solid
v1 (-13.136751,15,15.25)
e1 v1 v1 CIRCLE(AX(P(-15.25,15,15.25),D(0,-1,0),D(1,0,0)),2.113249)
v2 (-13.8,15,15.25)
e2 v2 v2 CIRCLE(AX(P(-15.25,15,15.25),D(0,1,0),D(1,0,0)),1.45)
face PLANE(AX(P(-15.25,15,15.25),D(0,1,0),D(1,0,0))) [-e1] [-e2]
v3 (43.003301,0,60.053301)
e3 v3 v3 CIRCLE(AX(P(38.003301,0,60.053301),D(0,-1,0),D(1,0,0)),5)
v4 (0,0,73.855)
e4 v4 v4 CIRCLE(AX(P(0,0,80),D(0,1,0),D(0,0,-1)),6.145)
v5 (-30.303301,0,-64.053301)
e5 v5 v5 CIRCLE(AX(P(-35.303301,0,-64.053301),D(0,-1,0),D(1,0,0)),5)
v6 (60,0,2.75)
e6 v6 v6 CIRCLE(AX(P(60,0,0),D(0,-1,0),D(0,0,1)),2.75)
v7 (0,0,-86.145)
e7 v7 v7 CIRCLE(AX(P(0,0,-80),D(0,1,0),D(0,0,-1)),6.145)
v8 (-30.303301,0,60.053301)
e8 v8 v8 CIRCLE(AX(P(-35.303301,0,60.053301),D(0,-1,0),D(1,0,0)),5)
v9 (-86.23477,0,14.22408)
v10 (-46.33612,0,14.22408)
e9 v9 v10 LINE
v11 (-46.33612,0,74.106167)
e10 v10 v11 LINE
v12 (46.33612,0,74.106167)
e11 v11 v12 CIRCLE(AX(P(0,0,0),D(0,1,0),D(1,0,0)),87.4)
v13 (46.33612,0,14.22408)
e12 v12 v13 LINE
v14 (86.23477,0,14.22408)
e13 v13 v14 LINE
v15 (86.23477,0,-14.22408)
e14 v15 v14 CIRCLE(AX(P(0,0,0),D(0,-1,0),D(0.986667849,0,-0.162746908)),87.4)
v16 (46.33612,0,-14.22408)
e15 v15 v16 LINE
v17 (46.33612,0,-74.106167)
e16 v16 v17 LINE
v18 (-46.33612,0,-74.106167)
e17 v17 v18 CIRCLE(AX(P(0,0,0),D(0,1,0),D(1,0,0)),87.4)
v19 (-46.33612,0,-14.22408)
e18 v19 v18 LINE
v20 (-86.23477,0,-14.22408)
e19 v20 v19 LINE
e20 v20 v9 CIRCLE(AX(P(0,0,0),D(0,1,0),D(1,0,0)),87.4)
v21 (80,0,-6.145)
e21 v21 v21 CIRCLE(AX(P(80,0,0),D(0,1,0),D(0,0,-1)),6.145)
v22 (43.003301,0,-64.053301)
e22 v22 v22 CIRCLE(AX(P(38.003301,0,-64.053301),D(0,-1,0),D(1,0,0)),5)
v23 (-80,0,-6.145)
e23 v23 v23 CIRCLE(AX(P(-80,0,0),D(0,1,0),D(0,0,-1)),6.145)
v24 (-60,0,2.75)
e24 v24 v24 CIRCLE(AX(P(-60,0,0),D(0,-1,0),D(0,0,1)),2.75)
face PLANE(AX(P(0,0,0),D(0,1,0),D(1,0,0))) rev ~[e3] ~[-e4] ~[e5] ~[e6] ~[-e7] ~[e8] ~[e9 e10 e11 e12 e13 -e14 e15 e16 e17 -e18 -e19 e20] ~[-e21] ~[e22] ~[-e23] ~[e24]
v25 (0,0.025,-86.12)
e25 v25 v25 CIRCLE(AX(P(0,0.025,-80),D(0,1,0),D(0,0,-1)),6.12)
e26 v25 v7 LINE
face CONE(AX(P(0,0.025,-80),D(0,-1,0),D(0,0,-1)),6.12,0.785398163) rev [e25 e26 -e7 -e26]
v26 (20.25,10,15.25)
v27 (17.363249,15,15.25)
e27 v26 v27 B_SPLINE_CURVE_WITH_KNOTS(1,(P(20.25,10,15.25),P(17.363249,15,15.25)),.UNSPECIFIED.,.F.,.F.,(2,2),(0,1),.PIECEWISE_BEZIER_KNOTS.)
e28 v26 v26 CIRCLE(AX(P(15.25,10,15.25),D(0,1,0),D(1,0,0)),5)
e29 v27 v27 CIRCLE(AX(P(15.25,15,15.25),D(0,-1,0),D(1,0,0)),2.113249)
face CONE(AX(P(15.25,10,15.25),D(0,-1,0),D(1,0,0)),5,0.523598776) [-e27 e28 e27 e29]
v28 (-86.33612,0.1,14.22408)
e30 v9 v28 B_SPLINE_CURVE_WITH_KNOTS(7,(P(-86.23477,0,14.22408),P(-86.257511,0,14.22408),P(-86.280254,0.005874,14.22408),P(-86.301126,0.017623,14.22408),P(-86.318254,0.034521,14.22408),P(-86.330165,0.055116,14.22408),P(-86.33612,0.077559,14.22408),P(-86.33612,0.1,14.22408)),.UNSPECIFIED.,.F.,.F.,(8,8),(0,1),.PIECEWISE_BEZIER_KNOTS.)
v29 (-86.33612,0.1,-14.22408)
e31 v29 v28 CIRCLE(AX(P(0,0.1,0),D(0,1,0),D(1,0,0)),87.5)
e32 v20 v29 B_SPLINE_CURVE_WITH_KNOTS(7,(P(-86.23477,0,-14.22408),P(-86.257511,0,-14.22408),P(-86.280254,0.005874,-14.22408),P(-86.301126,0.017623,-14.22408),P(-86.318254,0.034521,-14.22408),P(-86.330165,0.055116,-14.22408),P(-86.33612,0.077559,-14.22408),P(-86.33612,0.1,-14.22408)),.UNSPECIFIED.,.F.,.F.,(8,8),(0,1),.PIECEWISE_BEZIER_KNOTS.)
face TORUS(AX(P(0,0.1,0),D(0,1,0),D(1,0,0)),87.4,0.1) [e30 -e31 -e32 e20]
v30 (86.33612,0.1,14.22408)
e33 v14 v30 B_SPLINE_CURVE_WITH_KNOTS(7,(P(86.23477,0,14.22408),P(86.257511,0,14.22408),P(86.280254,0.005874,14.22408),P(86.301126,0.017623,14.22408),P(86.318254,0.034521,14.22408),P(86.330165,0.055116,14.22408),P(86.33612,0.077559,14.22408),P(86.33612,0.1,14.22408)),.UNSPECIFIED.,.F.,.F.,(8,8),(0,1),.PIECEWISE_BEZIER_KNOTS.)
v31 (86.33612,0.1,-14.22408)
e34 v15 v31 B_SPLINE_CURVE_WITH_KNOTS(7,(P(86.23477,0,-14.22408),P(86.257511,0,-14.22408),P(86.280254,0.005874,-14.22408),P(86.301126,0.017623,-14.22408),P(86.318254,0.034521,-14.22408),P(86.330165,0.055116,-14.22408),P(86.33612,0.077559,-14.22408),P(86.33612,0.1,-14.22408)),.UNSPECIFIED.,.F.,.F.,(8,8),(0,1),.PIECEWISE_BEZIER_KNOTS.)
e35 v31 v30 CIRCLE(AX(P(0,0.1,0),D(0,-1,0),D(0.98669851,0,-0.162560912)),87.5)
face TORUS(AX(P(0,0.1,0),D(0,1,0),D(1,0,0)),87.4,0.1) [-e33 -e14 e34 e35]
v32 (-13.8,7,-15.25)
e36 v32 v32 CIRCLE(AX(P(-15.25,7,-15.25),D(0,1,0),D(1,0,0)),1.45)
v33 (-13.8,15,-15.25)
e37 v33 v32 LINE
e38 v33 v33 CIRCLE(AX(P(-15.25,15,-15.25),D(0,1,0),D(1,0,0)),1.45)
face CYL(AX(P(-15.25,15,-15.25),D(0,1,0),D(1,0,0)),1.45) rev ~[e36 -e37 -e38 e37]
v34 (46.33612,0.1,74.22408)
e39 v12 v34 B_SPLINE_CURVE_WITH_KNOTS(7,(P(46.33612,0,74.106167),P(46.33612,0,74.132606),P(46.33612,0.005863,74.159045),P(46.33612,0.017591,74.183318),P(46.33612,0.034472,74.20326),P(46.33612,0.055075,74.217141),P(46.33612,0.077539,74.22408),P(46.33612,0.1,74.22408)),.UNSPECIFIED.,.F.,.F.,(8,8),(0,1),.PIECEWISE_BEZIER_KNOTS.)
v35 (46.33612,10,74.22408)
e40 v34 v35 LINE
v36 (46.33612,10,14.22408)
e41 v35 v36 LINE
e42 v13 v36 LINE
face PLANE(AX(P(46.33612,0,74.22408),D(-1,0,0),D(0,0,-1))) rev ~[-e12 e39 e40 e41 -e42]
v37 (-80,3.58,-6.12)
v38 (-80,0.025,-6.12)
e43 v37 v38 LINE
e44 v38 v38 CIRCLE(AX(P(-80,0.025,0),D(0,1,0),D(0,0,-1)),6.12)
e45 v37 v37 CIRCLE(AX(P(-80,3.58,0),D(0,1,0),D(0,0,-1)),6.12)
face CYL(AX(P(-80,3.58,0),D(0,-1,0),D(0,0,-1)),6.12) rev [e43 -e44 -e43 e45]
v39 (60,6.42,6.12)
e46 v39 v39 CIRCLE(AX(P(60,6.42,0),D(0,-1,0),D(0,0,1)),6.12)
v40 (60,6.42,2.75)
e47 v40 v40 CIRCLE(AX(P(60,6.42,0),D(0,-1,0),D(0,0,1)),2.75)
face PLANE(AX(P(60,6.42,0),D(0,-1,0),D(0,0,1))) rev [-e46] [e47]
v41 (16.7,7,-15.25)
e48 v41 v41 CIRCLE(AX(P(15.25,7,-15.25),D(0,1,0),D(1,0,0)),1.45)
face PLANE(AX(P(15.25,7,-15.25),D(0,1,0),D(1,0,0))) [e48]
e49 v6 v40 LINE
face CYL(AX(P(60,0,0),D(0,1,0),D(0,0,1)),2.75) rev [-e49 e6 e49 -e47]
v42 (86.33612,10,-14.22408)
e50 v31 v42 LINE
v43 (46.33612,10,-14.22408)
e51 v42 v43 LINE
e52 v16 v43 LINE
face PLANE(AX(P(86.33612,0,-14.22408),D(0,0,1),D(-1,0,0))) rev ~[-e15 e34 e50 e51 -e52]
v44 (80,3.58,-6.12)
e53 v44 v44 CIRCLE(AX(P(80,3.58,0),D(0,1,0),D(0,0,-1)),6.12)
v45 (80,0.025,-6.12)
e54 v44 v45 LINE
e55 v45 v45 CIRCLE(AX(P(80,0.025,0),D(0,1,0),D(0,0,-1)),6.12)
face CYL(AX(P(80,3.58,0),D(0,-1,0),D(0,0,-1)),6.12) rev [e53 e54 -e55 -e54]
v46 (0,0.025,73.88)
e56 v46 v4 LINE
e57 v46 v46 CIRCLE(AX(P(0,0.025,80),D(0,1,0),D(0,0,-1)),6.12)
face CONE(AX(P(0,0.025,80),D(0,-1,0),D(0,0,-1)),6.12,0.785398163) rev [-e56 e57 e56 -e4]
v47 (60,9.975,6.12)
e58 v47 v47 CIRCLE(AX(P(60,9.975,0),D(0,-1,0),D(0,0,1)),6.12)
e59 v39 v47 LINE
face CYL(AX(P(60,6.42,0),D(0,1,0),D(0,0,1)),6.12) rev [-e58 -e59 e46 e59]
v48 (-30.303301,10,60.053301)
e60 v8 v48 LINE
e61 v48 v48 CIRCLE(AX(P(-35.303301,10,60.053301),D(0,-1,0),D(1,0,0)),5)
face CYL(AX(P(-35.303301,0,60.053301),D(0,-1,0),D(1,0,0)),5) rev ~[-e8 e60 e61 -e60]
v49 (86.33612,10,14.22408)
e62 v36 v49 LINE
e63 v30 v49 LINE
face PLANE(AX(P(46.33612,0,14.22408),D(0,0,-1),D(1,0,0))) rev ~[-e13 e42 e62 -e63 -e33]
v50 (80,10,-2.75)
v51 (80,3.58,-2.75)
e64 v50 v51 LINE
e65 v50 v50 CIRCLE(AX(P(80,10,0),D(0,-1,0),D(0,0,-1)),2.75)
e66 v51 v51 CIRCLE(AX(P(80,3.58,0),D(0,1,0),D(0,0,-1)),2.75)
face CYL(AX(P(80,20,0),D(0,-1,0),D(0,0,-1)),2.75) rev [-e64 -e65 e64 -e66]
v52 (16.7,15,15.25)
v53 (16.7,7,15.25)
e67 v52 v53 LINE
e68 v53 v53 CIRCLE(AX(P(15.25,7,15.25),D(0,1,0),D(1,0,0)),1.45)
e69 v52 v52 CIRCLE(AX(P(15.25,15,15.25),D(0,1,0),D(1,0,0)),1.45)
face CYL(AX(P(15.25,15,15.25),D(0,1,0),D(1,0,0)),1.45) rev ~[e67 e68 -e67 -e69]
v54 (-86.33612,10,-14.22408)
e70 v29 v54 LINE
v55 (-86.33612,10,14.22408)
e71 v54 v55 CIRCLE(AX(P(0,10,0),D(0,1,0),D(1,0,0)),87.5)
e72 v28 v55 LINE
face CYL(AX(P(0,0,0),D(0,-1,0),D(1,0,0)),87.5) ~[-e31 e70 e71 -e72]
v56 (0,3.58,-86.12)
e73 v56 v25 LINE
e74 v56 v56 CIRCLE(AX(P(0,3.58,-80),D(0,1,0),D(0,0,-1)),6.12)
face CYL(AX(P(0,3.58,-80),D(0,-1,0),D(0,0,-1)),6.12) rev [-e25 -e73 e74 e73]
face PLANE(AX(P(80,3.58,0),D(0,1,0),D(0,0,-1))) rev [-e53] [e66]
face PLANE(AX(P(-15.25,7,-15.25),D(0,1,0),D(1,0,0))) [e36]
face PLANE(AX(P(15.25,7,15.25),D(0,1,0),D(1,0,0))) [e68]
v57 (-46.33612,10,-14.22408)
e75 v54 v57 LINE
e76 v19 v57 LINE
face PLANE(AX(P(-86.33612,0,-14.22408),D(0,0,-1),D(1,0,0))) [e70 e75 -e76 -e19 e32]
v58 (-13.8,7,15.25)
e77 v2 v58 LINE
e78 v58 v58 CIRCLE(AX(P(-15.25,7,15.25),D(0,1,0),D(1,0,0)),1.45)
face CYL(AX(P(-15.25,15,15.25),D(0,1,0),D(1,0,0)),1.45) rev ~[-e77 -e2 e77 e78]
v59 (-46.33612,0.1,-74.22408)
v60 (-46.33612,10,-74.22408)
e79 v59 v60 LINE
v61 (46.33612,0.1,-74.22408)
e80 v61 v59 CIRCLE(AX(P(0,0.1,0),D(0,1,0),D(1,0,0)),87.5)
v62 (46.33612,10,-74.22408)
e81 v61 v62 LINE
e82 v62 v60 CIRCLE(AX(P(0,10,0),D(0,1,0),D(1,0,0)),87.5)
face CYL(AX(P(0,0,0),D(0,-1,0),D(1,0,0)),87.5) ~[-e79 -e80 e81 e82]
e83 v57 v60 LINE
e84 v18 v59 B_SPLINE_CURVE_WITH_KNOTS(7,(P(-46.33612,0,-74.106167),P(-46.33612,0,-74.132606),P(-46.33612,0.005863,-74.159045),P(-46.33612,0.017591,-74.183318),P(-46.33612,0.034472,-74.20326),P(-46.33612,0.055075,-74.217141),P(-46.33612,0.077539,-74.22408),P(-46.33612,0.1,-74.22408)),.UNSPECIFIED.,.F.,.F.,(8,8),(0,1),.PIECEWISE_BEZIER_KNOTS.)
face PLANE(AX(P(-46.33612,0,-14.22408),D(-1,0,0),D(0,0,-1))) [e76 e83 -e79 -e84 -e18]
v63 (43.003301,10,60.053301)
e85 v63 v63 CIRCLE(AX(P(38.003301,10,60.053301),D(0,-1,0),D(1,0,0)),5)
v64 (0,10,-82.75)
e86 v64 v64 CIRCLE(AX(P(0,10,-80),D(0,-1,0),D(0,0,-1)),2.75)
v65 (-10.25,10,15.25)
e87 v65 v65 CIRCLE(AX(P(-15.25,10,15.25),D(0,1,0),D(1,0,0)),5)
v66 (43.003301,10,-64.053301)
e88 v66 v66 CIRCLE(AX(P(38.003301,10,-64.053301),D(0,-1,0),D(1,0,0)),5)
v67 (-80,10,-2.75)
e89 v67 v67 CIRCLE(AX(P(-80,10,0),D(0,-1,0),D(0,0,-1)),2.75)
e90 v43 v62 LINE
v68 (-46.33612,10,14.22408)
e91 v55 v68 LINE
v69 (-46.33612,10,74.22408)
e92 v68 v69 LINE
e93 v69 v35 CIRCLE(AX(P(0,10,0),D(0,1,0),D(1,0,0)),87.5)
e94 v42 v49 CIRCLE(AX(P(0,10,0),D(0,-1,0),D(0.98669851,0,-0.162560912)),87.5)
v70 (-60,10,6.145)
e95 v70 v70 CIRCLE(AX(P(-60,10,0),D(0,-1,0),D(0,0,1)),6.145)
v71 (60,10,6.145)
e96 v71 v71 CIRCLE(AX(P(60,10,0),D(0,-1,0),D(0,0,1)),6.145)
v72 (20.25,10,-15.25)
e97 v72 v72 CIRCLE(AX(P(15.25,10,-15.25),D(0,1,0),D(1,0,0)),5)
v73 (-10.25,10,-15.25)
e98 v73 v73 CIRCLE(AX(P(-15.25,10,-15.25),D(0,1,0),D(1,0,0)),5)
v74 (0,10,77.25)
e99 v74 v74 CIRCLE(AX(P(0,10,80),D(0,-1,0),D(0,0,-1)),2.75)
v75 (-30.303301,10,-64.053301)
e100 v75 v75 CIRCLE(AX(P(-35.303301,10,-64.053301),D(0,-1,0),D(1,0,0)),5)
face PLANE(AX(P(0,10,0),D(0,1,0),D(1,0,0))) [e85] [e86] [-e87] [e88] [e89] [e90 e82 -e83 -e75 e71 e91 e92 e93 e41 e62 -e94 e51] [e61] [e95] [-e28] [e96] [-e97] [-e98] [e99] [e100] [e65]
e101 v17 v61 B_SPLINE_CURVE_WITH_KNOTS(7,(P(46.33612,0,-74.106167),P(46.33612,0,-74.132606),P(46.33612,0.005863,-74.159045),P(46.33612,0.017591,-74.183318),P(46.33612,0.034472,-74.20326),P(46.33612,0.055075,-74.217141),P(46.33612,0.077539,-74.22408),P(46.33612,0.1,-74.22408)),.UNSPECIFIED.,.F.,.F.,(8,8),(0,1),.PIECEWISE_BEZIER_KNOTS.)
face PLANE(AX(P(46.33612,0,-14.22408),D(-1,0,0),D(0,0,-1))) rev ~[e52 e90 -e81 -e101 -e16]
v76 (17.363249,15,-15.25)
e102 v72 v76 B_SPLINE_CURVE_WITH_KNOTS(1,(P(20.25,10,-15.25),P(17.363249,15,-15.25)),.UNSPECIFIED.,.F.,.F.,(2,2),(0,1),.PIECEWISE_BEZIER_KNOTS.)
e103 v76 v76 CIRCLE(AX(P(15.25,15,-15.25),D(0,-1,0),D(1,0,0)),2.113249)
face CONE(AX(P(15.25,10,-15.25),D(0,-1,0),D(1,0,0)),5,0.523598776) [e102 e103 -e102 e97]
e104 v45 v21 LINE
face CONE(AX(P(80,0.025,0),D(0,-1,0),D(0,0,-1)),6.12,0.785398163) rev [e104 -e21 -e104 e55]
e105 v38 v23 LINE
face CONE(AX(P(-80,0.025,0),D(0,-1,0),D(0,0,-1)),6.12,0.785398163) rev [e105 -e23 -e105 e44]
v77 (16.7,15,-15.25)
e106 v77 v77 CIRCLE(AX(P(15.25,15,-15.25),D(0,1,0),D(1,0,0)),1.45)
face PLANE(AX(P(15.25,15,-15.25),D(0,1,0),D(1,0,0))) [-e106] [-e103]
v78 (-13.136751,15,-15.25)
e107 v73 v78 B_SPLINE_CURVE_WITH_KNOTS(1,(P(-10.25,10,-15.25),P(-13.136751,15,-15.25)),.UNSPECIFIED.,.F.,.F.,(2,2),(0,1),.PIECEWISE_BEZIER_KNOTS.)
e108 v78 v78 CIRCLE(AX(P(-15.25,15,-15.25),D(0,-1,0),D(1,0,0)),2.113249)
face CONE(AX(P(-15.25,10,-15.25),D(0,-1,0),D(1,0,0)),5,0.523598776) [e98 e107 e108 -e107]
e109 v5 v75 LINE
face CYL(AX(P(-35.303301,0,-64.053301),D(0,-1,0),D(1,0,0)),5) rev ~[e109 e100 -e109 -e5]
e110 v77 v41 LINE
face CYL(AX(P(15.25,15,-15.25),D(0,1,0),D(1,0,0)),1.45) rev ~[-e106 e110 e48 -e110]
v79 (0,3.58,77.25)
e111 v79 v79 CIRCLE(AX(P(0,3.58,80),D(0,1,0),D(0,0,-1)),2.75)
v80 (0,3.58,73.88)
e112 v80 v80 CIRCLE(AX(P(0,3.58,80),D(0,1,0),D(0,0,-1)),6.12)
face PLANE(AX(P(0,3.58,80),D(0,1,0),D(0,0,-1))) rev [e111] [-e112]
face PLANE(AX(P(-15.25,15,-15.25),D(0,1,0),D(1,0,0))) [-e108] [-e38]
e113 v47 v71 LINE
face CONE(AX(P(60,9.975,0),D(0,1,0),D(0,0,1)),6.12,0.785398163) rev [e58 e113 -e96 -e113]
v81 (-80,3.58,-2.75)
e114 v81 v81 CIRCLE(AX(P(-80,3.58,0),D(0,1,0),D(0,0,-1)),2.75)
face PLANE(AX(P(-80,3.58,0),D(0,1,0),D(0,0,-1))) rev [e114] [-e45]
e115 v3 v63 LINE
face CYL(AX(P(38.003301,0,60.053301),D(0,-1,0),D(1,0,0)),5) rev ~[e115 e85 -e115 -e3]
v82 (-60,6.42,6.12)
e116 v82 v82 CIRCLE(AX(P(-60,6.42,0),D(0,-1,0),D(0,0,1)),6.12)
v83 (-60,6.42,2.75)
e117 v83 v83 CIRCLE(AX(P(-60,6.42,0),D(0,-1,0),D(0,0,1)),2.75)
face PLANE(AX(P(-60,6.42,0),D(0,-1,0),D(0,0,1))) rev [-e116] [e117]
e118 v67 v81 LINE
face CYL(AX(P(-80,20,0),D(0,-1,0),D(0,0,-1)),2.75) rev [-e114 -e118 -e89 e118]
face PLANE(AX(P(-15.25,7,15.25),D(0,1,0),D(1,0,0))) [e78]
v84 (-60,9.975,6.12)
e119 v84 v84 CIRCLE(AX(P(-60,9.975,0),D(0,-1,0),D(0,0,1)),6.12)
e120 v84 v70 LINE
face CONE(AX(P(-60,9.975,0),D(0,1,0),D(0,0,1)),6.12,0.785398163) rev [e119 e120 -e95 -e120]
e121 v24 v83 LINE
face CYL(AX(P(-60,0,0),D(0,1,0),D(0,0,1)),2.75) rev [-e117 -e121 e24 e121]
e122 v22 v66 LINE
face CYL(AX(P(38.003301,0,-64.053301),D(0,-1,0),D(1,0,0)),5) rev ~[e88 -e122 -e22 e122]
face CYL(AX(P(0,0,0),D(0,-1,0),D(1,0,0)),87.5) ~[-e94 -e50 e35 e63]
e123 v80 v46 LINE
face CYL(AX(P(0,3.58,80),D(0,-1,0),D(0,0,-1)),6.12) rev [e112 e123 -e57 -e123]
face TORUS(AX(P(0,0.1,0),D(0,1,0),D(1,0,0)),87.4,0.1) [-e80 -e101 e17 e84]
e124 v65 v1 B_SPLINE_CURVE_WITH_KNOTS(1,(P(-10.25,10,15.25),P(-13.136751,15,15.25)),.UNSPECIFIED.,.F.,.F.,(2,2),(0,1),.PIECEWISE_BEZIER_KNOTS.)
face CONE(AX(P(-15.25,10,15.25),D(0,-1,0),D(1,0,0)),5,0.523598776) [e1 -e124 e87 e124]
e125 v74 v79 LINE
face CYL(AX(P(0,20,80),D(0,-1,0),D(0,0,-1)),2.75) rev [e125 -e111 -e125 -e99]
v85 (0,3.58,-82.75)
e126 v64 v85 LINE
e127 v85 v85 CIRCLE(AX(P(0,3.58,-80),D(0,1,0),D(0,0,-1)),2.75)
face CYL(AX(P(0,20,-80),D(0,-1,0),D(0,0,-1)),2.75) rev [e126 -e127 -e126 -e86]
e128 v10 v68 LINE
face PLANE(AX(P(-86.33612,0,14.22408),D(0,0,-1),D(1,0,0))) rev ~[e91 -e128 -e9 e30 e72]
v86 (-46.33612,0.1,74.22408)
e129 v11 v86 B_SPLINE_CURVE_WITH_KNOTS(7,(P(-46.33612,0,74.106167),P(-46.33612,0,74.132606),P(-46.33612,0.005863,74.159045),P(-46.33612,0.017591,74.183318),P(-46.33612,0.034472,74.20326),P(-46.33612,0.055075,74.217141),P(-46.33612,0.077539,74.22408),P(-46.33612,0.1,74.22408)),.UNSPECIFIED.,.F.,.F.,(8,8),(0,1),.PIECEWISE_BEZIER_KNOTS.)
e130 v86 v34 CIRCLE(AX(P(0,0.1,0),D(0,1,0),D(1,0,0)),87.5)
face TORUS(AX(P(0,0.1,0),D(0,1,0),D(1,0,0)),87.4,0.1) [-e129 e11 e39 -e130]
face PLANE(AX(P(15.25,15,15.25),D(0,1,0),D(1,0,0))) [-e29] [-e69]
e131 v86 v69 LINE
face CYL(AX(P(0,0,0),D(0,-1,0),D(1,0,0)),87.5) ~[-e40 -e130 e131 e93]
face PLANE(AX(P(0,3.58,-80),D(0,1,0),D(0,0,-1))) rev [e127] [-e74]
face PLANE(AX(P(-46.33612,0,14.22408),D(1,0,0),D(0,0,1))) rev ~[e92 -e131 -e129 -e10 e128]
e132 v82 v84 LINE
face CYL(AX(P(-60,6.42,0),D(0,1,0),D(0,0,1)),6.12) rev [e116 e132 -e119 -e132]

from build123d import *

# Parameters (mm, degrees)
SKETCH1_R                              = 87.5
BOSS_EXTRUDE1_DEPTH                    = 10
SKETCH2_R                              = 7.5
BOSS_EXTRUDE2_DEPTH                    = 80
CBORE_FOR_M5_HEX_HEAD_BOLT1_AT_2_COUNT = 2
CBORE_FOR_M5_HEX_HEAD_BOLT1_AT_2_PITCH = 113.13708499
CBORE_FOR_M5_HEX_HEAD_BOLT1_AT_3_COUNT = 2
CBORE_FOR_M5_HEX_HEAD_BOLT1_AT_3_PITCH = 160
CBORE_FOR_M5_HEX_HEAD_BOLT1_AT_4_COUNT = 2
CBORE_FOR_M5_HEX_HEAD_BOLT1_AT_4_PITCH = 113.13708499
SKETCH5_R                              = 87.5
CUT_EXTRUDE1_DEPTH                     = 80
FILLET1_R                              = 0.1
SKETCH6_R                              = 5
BOSS_EXTRUDE3_DEPTH                    = 5
BOSS_EXTRUDE3_TAPER                    = 30
SKETCH7_R                              = 1.45
CUT_EXTRUDE2_DEPTH                     = 8
SKETCH9_R                              = 5
CUT_EXTRUDE3_DEPTH                     = 10
CUT_EXTRUDE5_DEPTH                     = 10
CBORE_FOR_M5_HEX_HEAD_BOLT2_AT_2_COUNT = 2
CBORE_FOR_M5_HEX_HEAD_BOLT2_AT_2_PITCH = 120


with BuildPart() as part:
    # Sketch1 → Boss-Extrude1 (new body)
    with BuildSketch(Plane(origin=(0, 0, 0), x_dir=(1, 0, 0), z_dir=(0, 1, 0))):
        Circle(SKETCH1_R)
    extrude(amount=BOSS_EXTRUDE1_DEPTH)

    # Sketch2 → Boss-Extrude2 (add)
    with BuildSketch(Plane(origin=(0, 10, 0), x_dir=(1, 0, 0), z_dir=(0, 1, 0))):
        with Locations((0, -80)):
            Circle(SKETCH2_R)
        with Locations((-80, 0)):
            Circle(SKETCH2_R)
        with Locations((0, 80)):
            Circle(SKETCH2_R)
        with Locations((80, 0)):
            Circle(SKETCH2_R)
    extrude(amount=BOSS_EXTRUDE2_DEPTH)

    # Sketch4 → CBORE for M5 Hex Head Bolt1 (revolve, cut)
    with BuildSketch(Plane(origin=(80, 0, 0), x_dir=(0, 0, -1), z_dir=(1, 0, 0))):
        Polygon((0, 0), (0, 21.652366702), (2.75, 20), (2.75, 3.58), (6.12, 3.58), (6.12, 0.025), (6.145, 0), align=None)
    cbore_for_m5_hex_head_bolt1 = revolve(axis=Axis((80, -6.35, 0), (0, 1, 0)), mode=Mode.SUBTRACT)

    # CBORE for M5 Hex Head Bolt1 at 2: CBORE for M5 Hex Head Bolt1 ×2
    with Locations(*[Vector(-0.707106781, 0, -0.707106781) * (i * CBORE_FOR_M5_HEX_HEAD_BOLT1_AT_2_PITCH) for i in range(1, CBORE_FOR_M5_HEX_HEAD_BOLT1_AT_2_COUNT)]):
        add(cbore_for_m5_hex_head_bolt1, mode=Mode.SUBTRACT)

    # CBORE for M5 Hex Head Bolt1 at 3: CBORE for M5 Hex Head Bolt1 ×2
    with Locations(*[(-i * CBORE_FOR_M5_HEX_HEAD_BOLT1_AT_3_PITCH, 0, 0) for i in range(1, CBORE_FOR_M5_HEX_HEAD_BOLT1_AT_3_COUNT)]):
        add(cbore_for_m5_hex_head_bolt1, mode=Mode.SUBTRACT)

    # CBORE for M5 Hex Head Bolt1 at 4: CBORE for M5 Hex Head Bolt1 ×2
    with Locations(*[Vector(-0.707106781, 0, 0.707106781) * (i * CBORE_FOR_M5_HEX_HEAD_BOLT1_AT_4_PITCH) for i in range(1, CBORE_FOR_M5_HEX_HEAD_BOLT1_AT_4_COUNT)]):
        add(cbore_for_m5_hex_head_bolt1, mode=Mode.SUBTRACT)

    # Sketch5 → Cut-Extrude1 (cut)
    with BuildSketch(Plane(origin=(0, 10, 0), x_dir=(1, 0, 0), z_dir=(0, 1, 0))):
        Circle(SKETCH5_R)
    extrude(amount=CUT_EXTRUDE1_DEPTH, mode=Mode.SUBTRACT)

    # Fillet1
    fillet1_edges = [part.edges().sort_by_distance(p)[0] for p in [
        (-87.5, 0, 0),
    ]]
    fillet(fillet1_edges, radius=FILLET1_R)

    # Sketch6 → Boss-Extrude3 (add)
    with BuildSketch(Plane(origin=(0, 10, 0), x_dir=(1, 0, 0), z_dir=(0, 1, 0))):
        with Locations((-15.25, 15.25)):
            Circle(SKETCH6_R)
        with Locations((15.25, 15.25)):
            Circle(SKETCH6_R)
        with Locations((15.25, -15.25)):
            Circle(SKETCH6_R)
        with Locations((-15.25, -15.25)):
            Circle(SKETCH6_R)
    extrude(amount=BOSS_EXTRUDE3_DEPTH, taper=BOSS_EXTRUDE3_TAPER)

    # Sketch7 → Cut-Extrude2 (cut)
    with BuildSketch(Plane(origin=(0, 15, 0), x_dir=(1, 0, 0), z_dir=(0, 1, 0))):
        with Locations((-15.25, 15.25)):
            Circle(SKETCH7_R)
        with Locations((15.25, 15.25)):
            Circle(SKETCH7_R)
        with Locations((15.25, -15.25)):
            Circle(SKETCH7_R)
        with Locations((-15.25, -15.25)):
            Circle(SKETCH7_R)
    extrude(amount=-CUT_EXTRUDE2_DEPTH, mode=Mode.SUBTRACT)

    # Sketch9 → Cut-Extrude3 (cut)
    with BuildSketch(Plane.XZ):
        with Locations((38.003300859, 60.053300859)):
            Circle(SKETCH9_R)
        with Locations((-35.303300859, 60.053300859)):
            Circle(SKETCH9_R)
        with Locations((-35.303300859, -64.053300859)):
            Circle(SKETCH9_R)
        with Locations((38.003300859, -64.053300859)):
            Circle(SKETCH9_R)
    extrude(amount=-CUT_EXTRUDE3_DEPTH, mode=Mode.SUBTRACT)

    # Sketch10 → Cut-Extrude5 (cut)
    with BuildSketch(Plane.XZ):
        with BuildLine():
            Line((-86.336119643, -14.224079762), (-46.336119643, -14.224079762))
            Line((-46.336119643, -14.224079762), (-46.336119643, -74.224079762))
            ThreePointArc((-46.336119643, -74.224079762), (-72.804400755, -48.53626717), (-86.336119643, -14.224079762))
        make_face()
        with BuildLine():
            Line((-46.336119643, 14.224079762), (-46.336119643, 74.224079762))
            ThreePointArc((-46.336119643, 74.224079762), (-72.804400755, 48.53626717), (-86.336119643, 14.224079762))
            Line((-86.336119643, 14.224079762), (-46.336119643, 14.224079762))
        make_face()
        with BuildLine():
            Line((46.336119643, 14.224079762), (86.336119643, 14.224079762))
            ThreePointArc((86.336119643, 14.224079762), (72.804400755, 48.53626717), (46.336119643, 74.224079762))
            Line((46.336119643, 74.224079762), (46.336119643, 14.224079762))
        make_face()
        with BuildLine():
            Line((46.336119643, -14.224079762), (46.336119643, -74.224079762))
            ThreePointArc((46.336119643, -74.224079762), (72.804400755, -48.53626717), (86.336119643, -14.224079762))
            Line((86.336119643, -14.224079762), (46.336119643, -14.224079762))
        make_face()
    extrude(amount=-CUT_EXTRUDE5_DEPTH, mode=Mode.SUBTRACT)

    # Sketch13 → CBORE for M5 Hex Head Bolt2 (revolve, cut)
    with BuildSketch(Plane(origin=(-60, 10, 0), x_dir=(0, 0, 1), z_dir=(1, 0, 0))):
        Polygon((0, 0), (0, 10), (2.75, 10), (2.75, 3.58), (6.12, 3.58), (6.12, 0.025), (6.145, 0), align=None)
    cbore_for_m5_hex_head_bolt2 = revolve(axis=Axis((-60, 16.35, 0), (0, -1, 0)), mode=Mode.SUBTRACT)

    # CBORE for M5 Hex Head Bolt2 at 2: CBORE for M5 Hex Head Bolt2 ×2
    with Locations(*[(i * CBORE_FOR_M5_HEX_HEAD_BOLT2_AT_2_PITCH, 0, 0) for i in range(1, CBORE_FOR_M5_HEX_HEAD_BOLT2_AT_2_COUNT)]):
        add(cbore_for_m5_hex_head_bolt2, mode=Mode.SUBTRACT)


solid = part.part
